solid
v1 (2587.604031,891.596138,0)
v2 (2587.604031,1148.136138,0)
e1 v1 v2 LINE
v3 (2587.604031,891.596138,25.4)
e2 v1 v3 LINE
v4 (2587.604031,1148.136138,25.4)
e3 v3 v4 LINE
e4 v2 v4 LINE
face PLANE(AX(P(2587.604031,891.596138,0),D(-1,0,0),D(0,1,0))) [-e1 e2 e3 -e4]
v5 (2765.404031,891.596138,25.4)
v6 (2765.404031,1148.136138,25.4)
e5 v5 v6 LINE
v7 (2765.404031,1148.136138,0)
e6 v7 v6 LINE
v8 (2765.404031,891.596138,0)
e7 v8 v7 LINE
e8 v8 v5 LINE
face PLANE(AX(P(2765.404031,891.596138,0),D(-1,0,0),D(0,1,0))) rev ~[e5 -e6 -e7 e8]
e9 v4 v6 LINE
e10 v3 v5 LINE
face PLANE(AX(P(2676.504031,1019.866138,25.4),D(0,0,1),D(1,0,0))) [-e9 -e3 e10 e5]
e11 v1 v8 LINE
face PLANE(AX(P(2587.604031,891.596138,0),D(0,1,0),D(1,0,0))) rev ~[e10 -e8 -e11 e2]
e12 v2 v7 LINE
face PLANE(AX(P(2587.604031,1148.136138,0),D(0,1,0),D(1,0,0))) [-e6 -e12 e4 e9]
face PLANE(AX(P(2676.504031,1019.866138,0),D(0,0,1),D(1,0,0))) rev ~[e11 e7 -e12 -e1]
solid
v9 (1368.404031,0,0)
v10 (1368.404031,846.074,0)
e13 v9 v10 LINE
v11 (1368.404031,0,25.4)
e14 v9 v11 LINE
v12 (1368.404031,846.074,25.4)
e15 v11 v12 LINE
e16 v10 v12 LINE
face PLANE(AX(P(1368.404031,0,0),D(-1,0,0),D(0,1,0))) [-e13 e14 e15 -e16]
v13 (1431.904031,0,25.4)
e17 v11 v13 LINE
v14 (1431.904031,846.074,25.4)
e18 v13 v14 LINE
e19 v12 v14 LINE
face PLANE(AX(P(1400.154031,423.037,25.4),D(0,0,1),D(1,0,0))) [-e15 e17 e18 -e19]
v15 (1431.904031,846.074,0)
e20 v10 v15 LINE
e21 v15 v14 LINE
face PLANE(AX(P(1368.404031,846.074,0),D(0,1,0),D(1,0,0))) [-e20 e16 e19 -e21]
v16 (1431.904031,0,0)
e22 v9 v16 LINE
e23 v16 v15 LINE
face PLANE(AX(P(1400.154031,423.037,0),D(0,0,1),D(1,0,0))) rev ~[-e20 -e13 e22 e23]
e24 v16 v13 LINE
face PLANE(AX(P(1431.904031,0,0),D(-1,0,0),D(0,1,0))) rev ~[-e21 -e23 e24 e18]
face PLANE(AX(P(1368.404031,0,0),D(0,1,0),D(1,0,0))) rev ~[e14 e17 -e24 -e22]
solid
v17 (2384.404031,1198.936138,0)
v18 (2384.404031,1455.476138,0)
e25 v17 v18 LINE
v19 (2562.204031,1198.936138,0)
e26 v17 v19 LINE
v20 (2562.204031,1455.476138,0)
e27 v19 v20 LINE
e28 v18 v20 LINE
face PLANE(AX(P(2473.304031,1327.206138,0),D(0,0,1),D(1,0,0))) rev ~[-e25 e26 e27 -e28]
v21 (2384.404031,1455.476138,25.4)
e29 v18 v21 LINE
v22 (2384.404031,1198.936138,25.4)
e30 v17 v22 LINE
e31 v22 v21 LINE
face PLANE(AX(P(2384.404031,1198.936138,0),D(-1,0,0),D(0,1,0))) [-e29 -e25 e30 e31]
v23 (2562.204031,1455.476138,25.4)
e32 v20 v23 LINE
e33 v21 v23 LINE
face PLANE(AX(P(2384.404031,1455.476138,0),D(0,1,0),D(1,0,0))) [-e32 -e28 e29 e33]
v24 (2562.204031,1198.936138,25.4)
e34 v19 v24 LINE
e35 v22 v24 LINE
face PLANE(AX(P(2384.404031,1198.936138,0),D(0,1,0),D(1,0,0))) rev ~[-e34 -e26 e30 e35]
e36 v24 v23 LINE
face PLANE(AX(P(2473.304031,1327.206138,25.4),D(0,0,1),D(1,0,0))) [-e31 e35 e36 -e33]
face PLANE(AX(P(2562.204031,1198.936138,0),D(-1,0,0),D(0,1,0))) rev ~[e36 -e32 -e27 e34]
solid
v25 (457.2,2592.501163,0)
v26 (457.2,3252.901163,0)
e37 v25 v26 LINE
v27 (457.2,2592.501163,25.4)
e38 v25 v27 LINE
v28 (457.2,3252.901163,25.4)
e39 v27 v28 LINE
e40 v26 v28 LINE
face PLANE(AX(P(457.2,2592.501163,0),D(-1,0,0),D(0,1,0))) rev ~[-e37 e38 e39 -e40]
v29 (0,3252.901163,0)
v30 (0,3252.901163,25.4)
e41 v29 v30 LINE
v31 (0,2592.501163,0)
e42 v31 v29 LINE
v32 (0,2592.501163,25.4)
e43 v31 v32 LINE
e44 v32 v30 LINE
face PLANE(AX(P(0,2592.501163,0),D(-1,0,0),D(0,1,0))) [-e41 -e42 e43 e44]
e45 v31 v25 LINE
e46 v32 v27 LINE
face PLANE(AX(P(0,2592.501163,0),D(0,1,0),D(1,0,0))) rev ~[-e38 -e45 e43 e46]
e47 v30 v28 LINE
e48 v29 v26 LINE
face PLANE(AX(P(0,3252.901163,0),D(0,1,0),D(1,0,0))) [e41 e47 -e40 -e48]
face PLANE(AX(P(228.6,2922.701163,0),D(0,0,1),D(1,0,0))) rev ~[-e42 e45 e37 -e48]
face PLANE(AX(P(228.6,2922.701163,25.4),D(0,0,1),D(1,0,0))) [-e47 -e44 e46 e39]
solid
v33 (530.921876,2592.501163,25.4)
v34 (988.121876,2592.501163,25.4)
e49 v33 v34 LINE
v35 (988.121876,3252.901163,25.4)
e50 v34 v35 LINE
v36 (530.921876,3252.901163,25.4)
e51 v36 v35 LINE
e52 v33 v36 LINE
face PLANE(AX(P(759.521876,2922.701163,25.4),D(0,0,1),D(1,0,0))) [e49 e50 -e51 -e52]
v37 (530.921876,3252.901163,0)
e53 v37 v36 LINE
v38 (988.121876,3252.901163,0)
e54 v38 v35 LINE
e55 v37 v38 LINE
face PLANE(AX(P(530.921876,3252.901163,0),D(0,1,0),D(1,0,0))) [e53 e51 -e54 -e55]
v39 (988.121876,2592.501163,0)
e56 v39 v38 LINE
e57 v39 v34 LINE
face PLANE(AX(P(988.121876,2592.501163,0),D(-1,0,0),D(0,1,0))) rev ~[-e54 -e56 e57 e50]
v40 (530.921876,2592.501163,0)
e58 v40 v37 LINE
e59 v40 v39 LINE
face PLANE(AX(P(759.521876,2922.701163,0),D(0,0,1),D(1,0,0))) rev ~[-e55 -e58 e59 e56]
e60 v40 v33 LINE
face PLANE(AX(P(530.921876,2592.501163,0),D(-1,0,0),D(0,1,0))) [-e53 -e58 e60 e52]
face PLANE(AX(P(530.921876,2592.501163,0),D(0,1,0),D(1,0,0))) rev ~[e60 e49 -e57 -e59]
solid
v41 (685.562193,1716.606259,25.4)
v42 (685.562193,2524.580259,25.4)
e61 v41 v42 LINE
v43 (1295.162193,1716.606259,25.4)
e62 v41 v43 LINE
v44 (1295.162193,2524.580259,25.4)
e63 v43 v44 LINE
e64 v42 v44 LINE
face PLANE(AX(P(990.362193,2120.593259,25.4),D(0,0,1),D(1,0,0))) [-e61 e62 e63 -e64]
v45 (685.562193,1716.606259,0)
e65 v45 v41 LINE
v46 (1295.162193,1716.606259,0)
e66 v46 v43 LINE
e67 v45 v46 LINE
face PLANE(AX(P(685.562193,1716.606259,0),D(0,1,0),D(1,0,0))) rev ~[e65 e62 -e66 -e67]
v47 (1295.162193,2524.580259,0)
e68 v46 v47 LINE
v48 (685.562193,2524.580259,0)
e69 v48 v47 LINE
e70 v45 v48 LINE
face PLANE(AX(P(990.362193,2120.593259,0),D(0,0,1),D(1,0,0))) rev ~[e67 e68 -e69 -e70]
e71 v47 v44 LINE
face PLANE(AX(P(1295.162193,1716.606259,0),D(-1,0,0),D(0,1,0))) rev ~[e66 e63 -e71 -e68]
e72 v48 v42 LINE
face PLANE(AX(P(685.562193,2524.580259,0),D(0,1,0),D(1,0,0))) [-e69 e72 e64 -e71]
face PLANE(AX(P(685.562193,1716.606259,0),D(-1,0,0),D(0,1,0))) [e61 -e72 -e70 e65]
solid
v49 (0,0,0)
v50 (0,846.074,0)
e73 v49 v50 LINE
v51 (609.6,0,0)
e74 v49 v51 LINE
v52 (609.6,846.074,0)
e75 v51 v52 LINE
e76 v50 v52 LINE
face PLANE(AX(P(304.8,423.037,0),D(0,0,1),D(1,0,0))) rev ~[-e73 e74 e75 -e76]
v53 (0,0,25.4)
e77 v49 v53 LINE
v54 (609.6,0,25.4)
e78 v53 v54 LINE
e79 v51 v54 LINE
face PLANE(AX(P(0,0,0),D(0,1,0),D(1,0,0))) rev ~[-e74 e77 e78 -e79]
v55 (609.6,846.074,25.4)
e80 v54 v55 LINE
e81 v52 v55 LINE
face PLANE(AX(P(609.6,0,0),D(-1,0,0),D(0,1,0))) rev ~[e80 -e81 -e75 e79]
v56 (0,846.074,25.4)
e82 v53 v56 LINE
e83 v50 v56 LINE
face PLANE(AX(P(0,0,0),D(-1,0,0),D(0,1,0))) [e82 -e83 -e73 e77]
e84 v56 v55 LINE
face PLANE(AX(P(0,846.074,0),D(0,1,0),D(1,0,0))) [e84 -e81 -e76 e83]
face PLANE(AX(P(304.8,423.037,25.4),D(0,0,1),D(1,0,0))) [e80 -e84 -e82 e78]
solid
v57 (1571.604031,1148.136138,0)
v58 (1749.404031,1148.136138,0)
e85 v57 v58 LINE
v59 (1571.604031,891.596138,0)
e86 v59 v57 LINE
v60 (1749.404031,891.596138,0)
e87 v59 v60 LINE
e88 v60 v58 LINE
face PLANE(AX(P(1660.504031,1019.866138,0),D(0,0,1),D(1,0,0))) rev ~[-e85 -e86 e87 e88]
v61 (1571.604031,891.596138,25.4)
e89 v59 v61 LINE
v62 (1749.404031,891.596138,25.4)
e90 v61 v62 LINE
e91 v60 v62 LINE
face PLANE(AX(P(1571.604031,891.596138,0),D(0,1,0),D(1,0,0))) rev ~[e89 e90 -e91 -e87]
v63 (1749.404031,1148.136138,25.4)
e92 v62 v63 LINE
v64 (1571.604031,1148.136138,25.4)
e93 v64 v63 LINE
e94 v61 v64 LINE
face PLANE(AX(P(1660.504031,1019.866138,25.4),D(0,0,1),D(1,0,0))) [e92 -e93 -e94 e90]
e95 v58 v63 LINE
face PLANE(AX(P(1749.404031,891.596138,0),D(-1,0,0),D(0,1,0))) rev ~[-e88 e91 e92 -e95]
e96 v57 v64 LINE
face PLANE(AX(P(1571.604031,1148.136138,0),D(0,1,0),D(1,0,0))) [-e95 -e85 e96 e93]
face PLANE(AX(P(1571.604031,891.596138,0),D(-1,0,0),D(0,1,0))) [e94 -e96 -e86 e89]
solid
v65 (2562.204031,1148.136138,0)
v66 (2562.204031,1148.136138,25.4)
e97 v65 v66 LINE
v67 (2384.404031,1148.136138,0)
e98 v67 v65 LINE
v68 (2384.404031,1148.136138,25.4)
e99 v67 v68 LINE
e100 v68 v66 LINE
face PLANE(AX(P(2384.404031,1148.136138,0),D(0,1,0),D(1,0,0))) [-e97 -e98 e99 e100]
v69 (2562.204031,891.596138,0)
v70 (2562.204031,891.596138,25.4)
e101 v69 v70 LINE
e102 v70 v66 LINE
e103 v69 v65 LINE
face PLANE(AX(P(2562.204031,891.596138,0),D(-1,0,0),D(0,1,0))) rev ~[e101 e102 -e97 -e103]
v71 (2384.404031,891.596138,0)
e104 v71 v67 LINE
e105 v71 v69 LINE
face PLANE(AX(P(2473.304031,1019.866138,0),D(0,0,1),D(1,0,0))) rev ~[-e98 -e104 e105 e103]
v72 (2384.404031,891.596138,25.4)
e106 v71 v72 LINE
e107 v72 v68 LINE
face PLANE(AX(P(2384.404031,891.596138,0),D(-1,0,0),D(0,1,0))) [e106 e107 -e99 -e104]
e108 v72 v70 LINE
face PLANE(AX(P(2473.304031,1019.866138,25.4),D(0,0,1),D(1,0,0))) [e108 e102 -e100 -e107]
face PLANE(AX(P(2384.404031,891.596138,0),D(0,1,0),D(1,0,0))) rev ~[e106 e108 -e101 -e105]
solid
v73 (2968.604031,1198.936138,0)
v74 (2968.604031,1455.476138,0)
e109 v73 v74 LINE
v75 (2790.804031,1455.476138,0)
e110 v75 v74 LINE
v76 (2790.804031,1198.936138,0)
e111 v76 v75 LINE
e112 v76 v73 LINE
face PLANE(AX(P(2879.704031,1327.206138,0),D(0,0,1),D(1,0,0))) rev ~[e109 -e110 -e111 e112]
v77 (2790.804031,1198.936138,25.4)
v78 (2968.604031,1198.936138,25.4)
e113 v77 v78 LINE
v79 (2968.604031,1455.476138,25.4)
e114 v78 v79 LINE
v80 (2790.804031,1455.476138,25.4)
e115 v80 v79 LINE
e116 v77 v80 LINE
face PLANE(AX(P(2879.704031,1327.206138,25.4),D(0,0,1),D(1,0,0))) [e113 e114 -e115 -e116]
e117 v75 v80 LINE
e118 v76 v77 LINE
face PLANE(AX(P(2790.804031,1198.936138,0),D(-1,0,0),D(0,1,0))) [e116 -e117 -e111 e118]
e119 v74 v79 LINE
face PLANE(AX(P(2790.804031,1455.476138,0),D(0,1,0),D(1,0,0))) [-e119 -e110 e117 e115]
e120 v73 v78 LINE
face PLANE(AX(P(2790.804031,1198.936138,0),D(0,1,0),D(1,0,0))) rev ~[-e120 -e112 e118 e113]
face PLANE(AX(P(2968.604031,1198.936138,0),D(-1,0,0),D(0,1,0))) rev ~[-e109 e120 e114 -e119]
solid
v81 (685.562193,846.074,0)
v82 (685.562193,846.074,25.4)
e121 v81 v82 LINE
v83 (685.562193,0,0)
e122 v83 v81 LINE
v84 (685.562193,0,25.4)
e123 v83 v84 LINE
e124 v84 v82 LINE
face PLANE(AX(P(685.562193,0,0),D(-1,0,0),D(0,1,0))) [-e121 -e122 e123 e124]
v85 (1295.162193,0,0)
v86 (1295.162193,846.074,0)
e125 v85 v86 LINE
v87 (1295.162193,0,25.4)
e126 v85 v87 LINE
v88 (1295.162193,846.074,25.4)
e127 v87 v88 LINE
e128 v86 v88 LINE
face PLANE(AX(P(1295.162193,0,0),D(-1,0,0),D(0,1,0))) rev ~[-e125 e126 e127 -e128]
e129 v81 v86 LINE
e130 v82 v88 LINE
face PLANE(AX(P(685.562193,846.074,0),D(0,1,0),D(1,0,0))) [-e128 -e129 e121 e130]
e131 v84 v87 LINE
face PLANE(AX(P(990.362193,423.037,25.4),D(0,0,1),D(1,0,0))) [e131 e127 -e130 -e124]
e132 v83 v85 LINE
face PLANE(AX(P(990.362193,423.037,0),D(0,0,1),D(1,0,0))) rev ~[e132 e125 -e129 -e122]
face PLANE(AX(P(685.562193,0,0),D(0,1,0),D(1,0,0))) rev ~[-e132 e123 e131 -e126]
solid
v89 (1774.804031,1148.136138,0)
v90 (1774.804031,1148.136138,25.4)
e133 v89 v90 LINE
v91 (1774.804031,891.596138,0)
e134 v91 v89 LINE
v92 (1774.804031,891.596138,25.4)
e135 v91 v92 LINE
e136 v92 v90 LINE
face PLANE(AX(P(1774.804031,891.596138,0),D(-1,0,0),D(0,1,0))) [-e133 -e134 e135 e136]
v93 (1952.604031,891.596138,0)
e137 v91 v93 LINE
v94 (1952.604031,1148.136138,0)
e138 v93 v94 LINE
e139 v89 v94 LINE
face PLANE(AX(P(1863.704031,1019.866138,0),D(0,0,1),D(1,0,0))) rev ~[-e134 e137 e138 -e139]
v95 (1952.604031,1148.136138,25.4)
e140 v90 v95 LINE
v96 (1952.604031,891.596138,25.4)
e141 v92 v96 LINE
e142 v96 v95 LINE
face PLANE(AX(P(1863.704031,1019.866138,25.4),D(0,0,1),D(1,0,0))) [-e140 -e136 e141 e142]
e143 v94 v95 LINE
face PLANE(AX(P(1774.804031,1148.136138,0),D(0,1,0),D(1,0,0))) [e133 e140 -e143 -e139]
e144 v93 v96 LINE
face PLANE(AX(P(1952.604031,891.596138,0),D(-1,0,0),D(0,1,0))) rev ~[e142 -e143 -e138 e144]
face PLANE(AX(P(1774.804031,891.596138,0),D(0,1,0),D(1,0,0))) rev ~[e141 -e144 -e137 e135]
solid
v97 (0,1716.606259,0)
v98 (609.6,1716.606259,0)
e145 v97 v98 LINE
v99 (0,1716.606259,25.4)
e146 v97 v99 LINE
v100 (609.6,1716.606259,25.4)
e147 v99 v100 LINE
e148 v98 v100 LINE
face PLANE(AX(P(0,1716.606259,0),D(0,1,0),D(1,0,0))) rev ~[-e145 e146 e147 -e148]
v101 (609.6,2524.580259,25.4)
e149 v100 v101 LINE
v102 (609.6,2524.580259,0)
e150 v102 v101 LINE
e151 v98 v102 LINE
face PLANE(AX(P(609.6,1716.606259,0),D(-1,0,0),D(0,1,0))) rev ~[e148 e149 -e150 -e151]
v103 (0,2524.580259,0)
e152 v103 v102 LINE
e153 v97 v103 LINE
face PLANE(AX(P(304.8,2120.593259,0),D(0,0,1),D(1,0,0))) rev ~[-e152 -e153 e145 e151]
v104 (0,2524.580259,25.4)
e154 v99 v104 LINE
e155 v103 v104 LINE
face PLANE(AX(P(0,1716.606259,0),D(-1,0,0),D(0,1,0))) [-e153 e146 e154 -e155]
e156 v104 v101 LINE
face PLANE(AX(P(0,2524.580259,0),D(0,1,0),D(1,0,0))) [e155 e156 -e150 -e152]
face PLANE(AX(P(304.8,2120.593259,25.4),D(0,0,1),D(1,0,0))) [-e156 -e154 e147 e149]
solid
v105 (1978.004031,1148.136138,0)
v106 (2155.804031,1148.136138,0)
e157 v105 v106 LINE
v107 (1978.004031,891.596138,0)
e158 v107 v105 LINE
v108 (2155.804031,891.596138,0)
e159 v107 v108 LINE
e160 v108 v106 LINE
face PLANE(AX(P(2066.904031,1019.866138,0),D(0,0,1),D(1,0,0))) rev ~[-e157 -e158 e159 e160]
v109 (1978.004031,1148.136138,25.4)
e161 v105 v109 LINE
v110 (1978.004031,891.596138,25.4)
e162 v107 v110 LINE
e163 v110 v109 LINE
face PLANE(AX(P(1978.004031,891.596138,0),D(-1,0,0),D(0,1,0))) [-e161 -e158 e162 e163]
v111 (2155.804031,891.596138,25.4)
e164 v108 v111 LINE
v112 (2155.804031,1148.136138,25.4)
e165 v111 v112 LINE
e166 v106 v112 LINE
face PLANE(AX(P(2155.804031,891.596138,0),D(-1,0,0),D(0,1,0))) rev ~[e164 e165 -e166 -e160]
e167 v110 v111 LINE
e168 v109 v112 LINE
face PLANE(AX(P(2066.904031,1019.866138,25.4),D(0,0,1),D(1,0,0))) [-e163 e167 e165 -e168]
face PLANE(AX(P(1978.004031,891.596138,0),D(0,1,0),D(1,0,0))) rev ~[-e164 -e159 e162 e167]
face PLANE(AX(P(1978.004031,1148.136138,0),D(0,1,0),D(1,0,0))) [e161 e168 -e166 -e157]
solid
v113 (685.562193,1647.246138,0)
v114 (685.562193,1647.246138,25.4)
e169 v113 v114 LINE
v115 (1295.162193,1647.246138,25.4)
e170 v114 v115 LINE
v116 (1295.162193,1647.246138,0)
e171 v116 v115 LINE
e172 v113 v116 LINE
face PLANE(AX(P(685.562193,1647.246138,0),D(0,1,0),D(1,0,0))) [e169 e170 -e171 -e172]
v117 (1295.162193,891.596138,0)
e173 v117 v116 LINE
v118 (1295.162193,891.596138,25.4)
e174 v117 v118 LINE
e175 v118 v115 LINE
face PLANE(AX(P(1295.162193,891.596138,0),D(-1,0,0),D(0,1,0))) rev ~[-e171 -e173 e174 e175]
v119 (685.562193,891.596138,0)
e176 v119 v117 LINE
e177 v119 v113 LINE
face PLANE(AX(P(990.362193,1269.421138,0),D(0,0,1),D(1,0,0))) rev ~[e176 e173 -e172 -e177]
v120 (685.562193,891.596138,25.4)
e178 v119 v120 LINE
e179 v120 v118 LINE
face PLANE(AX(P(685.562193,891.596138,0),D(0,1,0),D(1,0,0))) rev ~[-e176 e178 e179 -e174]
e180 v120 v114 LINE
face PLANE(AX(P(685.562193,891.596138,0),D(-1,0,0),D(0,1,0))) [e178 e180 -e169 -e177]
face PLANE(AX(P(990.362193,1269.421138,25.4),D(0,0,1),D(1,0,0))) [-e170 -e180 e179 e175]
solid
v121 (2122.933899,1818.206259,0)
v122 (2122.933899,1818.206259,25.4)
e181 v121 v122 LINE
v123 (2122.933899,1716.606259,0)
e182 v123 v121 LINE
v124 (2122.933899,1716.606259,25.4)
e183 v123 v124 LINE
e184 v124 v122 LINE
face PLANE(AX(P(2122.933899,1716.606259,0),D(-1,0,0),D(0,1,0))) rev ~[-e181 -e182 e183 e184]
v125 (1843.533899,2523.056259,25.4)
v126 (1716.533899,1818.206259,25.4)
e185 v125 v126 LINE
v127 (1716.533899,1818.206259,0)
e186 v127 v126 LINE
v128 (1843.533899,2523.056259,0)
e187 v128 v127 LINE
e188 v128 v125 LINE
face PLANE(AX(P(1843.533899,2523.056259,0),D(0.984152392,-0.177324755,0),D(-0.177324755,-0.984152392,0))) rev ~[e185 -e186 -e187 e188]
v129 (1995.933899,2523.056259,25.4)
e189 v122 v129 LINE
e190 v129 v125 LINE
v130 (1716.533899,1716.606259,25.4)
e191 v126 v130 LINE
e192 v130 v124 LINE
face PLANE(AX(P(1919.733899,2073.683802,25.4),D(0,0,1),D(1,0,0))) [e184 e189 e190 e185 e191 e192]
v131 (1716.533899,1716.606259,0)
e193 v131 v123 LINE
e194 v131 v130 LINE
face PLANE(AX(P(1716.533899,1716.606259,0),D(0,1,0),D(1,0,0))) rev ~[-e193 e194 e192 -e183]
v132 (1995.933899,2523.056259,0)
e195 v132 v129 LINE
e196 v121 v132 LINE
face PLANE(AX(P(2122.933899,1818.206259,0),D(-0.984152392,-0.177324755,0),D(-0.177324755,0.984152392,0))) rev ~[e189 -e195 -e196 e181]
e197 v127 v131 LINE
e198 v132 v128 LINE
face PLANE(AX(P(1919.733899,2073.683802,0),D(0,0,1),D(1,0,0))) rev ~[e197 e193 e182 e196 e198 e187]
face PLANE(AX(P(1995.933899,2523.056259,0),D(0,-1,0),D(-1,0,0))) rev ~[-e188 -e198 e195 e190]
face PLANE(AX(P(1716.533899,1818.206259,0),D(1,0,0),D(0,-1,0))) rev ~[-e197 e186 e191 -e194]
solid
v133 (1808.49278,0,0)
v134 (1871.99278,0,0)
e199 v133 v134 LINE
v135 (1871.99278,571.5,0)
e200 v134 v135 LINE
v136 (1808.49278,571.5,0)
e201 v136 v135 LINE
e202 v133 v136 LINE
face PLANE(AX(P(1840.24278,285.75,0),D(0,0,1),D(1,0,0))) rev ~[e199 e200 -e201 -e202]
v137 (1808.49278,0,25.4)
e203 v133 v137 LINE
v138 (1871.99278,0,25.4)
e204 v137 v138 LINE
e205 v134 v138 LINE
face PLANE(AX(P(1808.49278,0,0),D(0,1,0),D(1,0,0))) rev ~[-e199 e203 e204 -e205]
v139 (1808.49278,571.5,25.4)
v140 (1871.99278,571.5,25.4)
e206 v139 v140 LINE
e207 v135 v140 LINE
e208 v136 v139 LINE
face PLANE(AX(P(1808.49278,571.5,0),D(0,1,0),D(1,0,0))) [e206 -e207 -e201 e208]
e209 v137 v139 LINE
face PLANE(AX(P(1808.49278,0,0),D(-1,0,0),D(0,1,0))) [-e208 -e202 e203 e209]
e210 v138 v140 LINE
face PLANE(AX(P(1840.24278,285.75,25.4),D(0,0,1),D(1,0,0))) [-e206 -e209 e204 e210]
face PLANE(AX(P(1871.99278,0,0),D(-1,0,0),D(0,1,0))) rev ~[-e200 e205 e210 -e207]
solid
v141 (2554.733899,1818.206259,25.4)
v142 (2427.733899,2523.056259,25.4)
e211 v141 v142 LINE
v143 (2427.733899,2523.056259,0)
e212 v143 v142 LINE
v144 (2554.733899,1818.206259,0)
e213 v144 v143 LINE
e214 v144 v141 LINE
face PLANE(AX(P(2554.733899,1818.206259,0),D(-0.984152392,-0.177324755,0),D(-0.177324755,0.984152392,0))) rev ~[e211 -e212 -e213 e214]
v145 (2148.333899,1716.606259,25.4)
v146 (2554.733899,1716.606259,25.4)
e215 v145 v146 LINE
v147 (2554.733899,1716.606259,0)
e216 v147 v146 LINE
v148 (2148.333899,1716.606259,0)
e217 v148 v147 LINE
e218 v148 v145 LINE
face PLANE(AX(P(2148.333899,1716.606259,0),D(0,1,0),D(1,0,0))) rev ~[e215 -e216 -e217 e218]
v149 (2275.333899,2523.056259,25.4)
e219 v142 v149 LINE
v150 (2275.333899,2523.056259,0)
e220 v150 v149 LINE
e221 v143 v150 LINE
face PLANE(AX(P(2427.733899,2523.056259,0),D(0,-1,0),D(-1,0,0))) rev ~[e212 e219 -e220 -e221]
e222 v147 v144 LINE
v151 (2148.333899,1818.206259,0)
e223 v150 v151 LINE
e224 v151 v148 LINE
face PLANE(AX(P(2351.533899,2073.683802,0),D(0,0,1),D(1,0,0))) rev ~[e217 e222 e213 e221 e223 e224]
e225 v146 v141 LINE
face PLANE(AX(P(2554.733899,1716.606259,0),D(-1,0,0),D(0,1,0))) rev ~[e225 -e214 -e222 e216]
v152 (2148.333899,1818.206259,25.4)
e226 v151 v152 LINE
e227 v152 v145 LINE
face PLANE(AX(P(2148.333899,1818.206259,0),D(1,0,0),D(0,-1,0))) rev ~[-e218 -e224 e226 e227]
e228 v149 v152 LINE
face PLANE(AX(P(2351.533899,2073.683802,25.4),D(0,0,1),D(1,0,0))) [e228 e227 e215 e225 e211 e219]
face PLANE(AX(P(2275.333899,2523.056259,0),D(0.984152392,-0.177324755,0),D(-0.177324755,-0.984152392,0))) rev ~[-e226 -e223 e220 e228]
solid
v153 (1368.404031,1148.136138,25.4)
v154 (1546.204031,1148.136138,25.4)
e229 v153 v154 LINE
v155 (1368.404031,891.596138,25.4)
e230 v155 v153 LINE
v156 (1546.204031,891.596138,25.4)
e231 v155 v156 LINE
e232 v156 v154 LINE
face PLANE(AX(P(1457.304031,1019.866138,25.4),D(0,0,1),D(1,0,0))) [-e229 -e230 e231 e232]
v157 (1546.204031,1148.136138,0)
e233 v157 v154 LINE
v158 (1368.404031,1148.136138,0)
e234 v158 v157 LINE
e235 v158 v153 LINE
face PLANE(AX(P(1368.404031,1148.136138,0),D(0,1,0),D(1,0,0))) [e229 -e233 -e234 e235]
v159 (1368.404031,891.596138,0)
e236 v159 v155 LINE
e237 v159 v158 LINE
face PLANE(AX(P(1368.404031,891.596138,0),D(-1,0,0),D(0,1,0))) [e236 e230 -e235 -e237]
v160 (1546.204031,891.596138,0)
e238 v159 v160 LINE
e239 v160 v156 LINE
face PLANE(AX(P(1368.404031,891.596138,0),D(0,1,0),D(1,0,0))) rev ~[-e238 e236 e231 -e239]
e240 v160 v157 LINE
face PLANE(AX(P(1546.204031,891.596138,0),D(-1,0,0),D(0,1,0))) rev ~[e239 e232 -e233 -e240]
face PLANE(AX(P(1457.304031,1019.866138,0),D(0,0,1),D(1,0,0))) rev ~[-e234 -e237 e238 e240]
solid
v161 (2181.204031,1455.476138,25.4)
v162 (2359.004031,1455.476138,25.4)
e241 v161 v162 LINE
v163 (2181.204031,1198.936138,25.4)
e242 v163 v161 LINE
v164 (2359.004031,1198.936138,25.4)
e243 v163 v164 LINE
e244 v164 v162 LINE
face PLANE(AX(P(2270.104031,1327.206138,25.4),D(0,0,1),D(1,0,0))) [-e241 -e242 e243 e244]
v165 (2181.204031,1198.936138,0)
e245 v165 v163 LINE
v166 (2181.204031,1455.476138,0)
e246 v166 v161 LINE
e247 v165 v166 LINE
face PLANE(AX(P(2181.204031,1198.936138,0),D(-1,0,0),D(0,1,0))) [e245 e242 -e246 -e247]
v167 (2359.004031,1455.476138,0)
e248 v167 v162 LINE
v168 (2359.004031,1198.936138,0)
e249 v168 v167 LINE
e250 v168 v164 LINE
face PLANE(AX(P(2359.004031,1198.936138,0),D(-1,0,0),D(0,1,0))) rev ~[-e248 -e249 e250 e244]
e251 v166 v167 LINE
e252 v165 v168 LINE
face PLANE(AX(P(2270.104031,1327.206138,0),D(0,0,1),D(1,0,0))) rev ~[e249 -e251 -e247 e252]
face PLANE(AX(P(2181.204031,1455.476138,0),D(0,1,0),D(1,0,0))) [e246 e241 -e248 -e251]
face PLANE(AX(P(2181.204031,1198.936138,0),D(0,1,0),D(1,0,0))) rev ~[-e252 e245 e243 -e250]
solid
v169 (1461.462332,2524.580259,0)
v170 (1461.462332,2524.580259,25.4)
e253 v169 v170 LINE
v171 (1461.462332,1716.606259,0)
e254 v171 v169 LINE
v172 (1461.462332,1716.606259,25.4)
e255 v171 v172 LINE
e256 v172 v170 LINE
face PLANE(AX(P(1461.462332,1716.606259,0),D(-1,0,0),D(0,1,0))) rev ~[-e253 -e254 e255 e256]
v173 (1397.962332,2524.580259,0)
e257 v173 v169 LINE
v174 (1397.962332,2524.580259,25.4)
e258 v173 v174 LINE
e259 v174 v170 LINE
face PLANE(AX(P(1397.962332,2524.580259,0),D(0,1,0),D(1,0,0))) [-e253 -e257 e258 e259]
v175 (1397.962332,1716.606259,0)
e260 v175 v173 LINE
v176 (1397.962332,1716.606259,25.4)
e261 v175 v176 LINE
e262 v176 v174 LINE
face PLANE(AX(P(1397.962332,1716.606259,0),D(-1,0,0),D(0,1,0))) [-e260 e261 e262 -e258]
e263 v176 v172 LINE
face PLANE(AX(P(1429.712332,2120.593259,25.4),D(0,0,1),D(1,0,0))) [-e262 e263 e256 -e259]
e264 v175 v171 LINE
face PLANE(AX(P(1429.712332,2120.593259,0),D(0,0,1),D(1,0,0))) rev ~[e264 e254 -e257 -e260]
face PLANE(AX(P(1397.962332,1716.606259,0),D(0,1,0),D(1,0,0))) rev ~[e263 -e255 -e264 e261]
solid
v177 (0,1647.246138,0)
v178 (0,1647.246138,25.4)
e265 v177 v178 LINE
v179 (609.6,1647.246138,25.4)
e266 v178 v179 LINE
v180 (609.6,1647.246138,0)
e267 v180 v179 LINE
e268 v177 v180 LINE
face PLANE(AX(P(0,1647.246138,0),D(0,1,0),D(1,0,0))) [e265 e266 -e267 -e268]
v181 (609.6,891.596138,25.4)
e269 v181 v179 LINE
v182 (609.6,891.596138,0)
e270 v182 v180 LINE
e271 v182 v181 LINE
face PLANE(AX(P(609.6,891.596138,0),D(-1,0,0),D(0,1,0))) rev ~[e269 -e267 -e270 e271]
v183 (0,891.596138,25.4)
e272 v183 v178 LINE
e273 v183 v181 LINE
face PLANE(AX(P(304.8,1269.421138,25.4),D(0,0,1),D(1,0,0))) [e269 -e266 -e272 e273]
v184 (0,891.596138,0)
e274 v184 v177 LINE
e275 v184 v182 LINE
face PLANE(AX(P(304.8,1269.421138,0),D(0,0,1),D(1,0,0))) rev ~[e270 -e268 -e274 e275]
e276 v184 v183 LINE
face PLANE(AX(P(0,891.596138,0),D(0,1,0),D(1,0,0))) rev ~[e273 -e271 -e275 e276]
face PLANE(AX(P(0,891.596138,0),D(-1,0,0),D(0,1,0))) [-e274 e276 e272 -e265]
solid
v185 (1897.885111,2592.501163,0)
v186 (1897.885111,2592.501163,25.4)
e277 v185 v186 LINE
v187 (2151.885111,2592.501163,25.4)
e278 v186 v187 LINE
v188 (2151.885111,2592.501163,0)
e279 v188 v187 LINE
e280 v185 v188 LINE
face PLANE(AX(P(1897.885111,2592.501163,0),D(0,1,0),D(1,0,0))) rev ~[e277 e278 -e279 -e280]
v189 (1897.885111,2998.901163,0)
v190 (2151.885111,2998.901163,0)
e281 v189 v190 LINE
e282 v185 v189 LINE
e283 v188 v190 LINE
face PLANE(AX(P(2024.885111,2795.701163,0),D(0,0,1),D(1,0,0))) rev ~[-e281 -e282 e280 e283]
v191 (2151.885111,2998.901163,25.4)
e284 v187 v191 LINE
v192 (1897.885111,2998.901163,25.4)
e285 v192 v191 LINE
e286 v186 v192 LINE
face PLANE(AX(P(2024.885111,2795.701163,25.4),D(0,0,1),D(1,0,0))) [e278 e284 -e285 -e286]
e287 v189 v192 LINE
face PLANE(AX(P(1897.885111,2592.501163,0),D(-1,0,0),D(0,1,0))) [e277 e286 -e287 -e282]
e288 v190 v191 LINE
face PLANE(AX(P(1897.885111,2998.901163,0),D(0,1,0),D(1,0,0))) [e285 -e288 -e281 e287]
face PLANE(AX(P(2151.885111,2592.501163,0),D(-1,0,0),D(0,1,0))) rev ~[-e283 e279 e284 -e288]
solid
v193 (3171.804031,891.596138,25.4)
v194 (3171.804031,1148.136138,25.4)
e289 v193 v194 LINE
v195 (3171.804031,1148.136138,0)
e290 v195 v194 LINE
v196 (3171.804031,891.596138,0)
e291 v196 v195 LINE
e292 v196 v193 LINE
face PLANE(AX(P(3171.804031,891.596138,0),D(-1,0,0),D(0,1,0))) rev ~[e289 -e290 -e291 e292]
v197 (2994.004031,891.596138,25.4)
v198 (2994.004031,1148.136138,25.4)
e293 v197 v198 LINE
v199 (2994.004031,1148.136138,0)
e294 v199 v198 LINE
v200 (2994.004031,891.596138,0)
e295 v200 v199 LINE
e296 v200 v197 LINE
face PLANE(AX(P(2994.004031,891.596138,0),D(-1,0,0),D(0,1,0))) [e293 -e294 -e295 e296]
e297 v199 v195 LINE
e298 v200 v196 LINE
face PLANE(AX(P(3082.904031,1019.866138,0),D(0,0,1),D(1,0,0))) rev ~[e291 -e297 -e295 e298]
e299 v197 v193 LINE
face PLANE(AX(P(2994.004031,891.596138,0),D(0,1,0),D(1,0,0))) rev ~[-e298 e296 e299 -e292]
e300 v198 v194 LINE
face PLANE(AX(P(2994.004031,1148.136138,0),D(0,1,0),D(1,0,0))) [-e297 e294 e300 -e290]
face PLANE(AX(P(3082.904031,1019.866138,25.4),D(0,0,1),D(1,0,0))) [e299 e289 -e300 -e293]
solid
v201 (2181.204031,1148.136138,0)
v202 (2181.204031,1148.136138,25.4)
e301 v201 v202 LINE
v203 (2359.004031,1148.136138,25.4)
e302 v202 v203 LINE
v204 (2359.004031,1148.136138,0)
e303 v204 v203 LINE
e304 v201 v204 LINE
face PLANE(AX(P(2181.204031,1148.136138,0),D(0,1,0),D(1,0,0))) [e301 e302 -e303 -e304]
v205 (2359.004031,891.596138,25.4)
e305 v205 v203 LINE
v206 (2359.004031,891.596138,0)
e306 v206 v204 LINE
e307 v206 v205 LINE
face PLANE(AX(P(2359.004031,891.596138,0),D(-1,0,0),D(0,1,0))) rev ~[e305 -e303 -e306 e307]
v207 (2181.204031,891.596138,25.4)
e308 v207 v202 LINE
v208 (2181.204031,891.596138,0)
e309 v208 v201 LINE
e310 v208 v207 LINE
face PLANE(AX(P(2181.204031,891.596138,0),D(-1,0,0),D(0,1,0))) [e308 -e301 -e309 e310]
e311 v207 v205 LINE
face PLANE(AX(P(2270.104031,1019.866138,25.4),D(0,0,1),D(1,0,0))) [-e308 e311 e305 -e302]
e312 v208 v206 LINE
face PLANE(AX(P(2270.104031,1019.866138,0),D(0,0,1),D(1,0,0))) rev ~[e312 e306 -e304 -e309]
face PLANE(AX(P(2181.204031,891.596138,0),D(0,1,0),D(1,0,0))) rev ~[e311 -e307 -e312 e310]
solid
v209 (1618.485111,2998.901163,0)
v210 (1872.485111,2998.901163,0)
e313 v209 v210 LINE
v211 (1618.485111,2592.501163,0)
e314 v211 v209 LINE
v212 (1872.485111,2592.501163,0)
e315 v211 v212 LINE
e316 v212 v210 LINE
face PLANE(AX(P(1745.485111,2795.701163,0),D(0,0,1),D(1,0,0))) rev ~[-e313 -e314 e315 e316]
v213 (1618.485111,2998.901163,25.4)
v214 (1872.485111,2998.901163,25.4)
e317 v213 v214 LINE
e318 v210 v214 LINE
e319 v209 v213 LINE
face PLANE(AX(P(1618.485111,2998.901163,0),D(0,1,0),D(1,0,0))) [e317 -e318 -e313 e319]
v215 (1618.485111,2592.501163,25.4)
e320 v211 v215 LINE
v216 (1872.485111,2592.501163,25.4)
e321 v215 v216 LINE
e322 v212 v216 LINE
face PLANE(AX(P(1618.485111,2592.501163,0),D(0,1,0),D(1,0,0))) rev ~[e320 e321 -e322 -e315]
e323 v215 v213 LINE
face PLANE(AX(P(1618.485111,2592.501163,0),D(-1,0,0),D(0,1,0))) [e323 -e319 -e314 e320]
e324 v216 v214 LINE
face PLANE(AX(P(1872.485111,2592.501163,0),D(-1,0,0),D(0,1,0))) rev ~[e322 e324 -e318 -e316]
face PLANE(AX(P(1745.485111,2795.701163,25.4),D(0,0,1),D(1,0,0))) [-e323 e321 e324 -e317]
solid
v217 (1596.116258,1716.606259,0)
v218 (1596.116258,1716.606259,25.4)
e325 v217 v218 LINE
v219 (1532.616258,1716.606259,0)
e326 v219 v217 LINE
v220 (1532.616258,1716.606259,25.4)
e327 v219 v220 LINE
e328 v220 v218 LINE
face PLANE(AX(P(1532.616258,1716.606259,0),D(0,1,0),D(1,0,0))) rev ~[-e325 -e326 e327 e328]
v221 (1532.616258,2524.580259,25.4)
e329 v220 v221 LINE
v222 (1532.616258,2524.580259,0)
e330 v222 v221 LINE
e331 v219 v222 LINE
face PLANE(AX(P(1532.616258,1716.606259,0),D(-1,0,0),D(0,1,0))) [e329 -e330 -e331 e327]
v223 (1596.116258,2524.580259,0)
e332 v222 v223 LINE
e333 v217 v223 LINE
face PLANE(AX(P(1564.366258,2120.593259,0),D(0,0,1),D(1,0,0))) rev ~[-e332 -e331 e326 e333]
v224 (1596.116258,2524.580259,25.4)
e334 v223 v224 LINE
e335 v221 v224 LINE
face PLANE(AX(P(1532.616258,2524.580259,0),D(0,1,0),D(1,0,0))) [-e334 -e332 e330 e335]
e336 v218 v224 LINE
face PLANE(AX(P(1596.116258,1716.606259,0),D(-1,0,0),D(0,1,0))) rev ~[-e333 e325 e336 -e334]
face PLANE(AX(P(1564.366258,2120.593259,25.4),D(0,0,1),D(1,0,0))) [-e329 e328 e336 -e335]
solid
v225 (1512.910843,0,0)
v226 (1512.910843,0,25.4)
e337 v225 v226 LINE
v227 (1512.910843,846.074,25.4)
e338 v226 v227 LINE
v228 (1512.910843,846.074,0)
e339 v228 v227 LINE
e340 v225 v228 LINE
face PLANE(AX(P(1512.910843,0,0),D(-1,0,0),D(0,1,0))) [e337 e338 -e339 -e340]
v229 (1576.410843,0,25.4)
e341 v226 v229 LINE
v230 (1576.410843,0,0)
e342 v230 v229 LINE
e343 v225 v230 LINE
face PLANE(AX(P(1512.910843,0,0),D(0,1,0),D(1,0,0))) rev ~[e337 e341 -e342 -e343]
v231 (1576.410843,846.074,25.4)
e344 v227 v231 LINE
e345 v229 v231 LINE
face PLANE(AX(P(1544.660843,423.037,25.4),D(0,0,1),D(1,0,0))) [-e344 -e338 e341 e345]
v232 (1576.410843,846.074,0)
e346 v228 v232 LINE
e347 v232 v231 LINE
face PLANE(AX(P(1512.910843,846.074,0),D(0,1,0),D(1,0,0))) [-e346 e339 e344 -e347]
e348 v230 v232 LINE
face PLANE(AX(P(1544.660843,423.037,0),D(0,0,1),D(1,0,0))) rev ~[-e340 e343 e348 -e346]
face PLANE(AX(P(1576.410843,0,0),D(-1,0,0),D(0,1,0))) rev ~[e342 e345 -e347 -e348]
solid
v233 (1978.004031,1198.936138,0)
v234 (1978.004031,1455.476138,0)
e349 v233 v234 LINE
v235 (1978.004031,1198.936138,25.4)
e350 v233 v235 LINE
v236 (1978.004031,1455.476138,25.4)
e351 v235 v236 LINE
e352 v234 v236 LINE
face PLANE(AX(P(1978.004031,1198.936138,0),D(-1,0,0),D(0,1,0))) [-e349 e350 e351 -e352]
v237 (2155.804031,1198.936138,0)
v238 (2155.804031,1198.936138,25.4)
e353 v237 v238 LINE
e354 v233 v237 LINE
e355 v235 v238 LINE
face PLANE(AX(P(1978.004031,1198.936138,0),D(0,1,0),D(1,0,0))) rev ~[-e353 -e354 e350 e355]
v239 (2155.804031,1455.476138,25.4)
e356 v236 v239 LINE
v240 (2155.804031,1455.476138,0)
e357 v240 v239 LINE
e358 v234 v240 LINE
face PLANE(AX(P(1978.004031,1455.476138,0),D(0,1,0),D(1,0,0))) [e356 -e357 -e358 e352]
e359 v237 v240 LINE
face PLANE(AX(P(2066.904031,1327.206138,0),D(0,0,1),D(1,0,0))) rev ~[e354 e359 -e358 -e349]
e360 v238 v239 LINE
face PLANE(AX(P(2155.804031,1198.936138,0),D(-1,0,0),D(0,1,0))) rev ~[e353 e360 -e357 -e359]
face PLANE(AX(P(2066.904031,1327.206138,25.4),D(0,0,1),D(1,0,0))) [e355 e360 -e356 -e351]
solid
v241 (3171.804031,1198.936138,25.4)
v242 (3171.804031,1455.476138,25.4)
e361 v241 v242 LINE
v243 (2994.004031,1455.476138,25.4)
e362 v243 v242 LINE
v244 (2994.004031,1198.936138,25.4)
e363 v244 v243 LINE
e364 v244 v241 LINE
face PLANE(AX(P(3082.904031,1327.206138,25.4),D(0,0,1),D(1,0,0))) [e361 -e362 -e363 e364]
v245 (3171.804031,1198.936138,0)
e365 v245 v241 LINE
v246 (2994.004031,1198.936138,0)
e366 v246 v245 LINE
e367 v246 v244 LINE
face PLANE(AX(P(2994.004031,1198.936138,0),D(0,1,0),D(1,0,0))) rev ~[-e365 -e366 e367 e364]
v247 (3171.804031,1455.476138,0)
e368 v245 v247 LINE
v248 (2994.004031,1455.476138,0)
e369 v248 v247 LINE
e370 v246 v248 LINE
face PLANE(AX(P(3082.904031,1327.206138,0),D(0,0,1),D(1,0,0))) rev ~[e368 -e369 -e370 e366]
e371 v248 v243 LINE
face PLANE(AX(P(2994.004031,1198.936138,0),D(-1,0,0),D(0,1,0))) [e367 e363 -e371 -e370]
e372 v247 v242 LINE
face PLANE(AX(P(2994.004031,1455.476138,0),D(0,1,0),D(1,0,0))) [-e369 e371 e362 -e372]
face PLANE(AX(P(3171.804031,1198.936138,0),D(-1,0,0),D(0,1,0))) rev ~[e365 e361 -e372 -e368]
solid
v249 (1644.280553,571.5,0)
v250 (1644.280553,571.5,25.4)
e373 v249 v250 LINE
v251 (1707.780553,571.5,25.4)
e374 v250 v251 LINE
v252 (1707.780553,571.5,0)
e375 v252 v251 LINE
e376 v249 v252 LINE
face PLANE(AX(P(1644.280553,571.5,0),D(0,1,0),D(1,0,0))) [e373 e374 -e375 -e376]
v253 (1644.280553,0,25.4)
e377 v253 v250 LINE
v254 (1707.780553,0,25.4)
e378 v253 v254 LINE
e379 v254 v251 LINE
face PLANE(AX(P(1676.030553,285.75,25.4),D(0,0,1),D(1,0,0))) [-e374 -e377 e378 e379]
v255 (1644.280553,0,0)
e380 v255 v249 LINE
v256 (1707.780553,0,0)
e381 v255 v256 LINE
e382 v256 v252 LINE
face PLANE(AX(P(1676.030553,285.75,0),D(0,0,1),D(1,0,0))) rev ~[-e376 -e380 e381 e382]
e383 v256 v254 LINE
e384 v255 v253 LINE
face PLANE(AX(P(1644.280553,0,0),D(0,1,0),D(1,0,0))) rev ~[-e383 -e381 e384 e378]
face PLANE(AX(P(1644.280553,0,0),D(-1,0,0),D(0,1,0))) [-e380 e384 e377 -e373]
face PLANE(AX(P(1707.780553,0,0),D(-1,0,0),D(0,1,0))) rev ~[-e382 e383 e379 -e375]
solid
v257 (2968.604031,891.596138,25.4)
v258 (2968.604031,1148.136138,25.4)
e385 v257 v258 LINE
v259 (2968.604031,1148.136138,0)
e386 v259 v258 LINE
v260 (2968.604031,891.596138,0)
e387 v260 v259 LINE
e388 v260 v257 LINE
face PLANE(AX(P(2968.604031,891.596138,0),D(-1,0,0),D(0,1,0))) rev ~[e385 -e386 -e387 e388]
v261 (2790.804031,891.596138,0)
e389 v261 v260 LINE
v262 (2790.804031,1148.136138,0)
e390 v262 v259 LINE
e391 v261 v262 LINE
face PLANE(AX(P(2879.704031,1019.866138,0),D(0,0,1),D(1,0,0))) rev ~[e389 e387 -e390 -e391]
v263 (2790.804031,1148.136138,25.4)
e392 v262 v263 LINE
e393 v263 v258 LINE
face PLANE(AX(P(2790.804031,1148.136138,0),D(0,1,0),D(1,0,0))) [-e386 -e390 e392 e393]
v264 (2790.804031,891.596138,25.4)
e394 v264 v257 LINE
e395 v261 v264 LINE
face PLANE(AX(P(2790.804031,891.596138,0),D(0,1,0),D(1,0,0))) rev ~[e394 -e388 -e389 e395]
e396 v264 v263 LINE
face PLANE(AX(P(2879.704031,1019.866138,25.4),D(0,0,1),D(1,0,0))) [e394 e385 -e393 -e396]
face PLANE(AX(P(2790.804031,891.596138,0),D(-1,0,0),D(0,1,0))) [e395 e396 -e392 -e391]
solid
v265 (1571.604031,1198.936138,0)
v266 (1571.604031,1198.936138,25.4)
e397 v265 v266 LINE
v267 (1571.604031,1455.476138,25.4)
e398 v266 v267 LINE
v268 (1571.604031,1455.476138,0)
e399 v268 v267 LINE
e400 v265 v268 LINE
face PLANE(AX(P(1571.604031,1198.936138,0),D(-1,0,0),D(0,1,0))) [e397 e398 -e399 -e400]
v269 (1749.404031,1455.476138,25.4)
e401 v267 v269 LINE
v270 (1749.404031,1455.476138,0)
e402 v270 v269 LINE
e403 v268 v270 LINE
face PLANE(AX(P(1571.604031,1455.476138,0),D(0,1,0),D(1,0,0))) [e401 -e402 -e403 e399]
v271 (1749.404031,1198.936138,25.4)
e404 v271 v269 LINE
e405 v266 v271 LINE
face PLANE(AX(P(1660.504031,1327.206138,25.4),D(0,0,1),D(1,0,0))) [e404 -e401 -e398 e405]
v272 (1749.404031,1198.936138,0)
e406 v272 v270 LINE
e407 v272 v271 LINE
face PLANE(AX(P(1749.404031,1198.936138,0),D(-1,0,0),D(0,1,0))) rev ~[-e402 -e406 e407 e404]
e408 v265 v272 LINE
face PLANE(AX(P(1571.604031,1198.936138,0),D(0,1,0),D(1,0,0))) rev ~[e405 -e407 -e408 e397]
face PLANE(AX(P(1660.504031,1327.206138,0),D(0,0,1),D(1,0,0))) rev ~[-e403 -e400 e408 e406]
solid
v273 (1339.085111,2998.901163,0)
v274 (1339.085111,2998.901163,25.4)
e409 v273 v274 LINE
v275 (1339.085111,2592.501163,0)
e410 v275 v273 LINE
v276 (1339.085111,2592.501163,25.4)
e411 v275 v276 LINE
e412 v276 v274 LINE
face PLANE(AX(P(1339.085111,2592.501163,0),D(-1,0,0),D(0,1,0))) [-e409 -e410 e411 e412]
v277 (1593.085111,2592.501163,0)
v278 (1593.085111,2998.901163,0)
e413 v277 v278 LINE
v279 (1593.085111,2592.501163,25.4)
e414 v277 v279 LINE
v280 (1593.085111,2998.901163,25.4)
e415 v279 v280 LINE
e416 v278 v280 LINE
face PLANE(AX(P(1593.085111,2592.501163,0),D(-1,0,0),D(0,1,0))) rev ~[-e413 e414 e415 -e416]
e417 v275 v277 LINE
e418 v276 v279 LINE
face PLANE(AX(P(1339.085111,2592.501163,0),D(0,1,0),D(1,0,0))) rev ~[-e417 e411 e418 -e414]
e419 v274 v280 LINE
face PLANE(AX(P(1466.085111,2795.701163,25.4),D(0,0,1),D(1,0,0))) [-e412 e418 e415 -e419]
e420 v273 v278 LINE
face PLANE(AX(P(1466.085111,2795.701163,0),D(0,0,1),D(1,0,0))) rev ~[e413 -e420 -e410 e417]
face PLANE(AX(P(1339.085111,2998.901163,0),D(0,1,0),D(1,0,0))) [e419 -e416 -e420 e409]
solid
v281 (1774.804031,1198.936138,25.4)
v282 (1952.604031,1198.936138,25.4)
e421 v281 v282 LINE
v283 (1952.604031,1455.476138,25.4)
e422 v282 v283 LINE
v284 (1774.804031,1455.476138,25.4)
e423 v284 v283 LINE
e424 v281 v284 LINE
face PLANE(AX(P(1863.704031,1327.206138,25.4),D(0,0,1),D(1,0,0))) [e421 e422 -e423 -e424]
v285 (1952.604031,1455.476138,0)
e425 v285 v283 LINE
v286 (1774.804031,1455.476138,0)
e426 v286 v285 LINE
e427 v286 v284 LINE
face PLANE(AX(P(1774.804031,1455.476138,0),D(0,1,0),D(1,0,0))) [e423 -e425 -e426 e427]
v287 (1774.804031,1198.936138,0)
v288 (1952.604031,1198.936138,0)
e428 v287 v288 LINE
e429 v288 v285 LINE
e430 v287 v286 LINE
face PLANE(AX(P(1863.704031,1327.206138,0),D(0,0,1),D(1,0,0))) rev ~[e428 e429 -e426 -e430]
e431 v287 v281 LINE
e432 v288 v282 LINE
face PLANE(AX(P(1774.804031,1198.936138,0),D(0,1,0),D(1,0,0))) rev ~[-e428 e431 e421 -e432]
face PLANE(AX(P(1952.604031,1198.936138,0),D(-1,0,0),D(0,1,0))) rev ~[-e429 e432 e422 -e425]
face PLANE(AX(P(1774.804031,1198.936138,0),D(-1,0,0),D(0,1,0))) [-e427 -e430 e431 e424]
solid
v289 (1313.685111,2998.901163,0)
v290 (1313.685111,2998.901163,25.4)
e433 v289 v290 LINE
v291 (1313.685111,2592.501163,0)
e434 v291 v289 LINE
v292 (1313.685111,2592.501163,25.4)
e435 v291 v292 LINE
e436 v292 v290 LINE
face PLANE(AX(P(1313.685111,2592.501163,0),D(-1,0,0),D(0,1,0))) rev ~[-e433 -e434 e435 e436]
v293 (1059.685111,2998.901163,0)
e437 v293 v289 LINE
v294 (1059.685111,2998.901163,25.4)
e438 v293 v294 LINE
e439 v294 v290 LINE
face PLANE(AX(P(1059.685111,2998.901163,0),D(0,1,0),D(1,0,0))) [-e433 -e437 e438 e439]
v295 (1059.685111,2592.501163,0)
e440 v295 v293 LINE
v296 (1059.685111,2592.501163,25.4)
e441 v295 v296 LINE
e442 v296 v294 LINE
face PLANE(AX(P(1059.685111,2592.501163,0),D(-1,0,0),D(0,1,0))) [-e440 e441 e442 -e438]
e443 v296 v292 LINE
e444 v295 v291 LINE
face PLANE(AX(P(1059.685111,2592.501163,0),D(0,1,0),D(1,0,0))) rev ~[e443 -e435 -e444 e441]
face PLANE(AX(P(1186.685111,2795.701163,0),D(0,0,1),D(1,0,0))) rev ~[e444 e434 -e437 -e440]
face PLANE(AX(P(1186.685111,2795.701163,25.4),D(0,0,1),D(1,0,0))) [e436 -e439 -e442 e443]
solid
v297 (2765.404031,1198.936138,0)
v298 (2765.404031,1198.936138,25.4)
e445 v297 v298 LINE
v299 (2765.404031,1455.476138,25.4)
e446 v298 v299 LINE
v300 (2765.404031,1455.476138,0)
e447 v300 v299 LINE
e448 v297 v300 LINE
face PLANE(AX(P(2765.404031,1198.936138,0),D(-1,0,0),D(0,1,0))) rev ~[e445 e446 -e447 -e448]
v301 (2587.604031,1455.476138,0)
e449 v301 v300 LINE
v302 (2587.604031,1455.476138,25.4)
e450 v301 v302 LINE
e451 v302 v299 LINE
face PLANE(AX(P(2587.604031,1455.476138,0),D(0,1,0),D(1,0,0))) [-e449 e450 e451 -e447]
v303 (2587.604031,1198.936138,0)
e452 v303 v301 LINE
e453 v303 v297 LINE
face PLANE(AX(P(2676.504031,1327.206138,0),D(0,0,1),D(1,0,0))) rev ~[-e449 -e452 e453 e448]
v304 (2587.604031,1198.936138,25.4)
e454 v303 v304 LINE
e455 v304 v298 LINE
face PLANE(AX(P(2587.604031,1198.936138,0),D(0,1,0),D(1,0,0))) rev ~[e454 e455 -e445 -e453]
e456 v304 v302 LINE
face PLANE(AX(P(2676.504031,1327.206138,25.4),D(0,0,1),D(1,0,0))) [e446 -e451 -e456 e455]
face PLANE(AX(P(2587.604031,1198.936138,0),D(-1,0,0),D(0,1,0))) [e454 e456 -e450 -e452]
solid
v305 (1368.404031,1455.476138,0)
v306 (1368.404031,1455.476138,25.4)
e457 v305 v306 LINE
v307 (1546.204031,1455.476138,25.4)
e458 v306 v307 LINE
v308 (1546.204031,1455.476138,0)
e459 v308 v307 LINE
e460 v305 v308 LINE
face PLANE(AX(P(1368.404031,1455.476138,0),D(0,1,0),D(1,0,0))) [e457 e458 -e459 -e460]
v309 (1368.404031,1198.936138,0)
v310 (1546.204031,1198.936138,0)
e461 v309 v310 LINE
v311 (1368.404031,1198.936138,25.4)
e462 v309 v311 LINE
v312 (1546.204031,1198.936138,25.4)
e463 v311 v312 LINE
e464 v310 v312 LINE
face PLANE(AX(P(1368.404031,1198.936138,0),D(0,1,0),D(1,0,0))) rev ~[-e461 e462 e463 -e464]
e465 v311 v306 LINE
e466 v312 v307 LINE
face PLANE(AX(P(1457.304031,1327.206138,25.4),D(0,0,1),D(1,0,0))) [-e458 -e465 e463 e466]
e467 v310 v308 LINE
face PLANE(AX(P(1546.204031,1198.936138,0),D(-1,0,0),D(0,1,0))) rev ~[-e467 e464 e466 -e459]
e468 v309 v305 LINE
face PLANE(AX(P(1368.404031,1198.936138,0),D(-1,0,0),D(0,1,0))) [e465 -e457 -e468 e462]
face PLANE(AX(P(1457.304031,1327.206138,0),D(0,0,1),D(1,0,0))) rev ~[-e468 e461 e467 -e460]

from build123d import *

# Parameters (mm, degrees)
F0_W     = 609.6
F0_H     = 846.074
F0_H_2   = 755.65
F0_H_3   = 807.974
F0_W_2   = 63.5
F0_H_4   = 571.5
F0_W_3   = 177.8
F0_H_5   = 256.54
F0_W_4   = 457.2
F0_H_6   = 660.4
F0_W_5   = 254
F0_H_7   = 406.4
F1_DEPTH = 25.4


with BuildPart() as f1:
    # F0 (on Top) → F1 (new body)
    with BuildSketch(Plane.XY):
        with Locations((304.8, 423.037)):
            Rectangle(F0_W, F0_H)
        with Locations((990.362193, 423.037)):
            Rectangle(F0_W, F0_H)
        with Locations((304.8, 1269.421138)):
            Rectangle(F0_W, F0_H_2)
        with Locations((990.362193, 1269.421138)):
            Rectangle(F0_W, F0_H_2)
        with Locations((304.8, 2120.593259)):
            Rectangle(F0_W, F0_H_3)
        with Locations((990.362193, 2120.593259)):
            Rectangle(F0_W, F0_H_3)
        with Locations((1429.712332, 2120.593259)):
            Rectangle(F0_W_2, F0_H_3)
        with Locations((1564.366258, 2120.593259)):
            Rectangle(F0_W_2, F0_H_3)
        with Locations((1400.154031, 423.037)):
            Rectangle(F0_W_2, F0_H)
        with Locations((1544.660843, 423.037)):
            Rectangle(F0_W_2, F0_H)
        with Locations((1676.030553, 285.75)):
            Rectangle(F0_W_2, F0_H_4)
        with Locations((1840.24278, 285.75)):
            Rectangle(F0_W_2, F0_H_4)
        with Locations((1457.304031, 1019.866138)):
            Rectangle(F0_W_3, F0_H_5)
        with Locations((1457.304031, 1327.206138)):
            Rectangle(F0_W_3, F0_H_5)
        with Locations((1660.504031, 1019.866138)):
            Rectangle(F0_W_3, F0_H_5)
        with Locations((1660.504031, 1327.206138)):
            Rectangle(F0_W_3, F0_H_5)
        with Locations((1863.704031, 1019.866138)):
            Rectangle(F0_W_3, F0_H_5)
        with Locations((1863.704031, 1327.206138)):
            Rectangle(F0_W_3, F0_H_5)
        with Locations((2066.904031, 1019.866138)):
            Rectangle(F0_W_3, F0_H_5)
        with Locations((2066.904031, 1327.206138)):
            Rectangle(F0_W_3, F0_H_5)
        with Locations((2270.104031, 1019.866138)):
            Rectangle(F0_W_3, F0_H_5)
        with Locations((2270.104031, 1327.206138)):
            Rectangle(F0_W_3, F0_H_5)
        with Locations((2473.304031, 1019.866138)):
            Rectangle(F0_W_3, F0_H_5)
        with Locations((2473.304031, 1327.206138)):
            Rectangle(F0_W_3, F0_H_5)
        with Locations((2676.504031, 1019.866138)):
            Rectangle(F0_W_3, F0_H_5)
        with Locations((2676.504031, 1327.206138)):
            Rectangle(F0_W_3, F0_H_5)
        with Locations((2879.704031, 1019.866138)):
            Rectangle(F0_W_3, F0_H_5)
        with Locations((2879.704031, 1327.206138)):
            Rectangle(F0_W_3, F0_H_5)
        with Locations((3082.904031, 1019.866138)):
            Rectangle(F0_W_3, F0_H_5)
        with Locations((3082.904031, 1327.206138)):
            Rectangle(F0_W_3, F0_H_5)
        with Locations((228.6, 2922.701163)):
            Rectangle(F0_W_4, F0_H_6)
        with Locations((759.521876, 2922.701163)):
            Rectangle(F0_W_4, F0_H_6)
        with Locations((1186.685111, 2795.701163)):
            Rectangle(F0_W_5, F0_H_7)
        with Locations((1466.085111, 2795.701163)):
            Rectangle(F0_W_5, F0_H_7)
        with Locations((1745.485111, 2795.701163)):
            Rectangle(F0_W_5, F0_H_7)
        with Locations((2024.885111, 2795.701163)):
            Rectangle(F0_W_5, F0_H_7)
        Polygon((1716.533899, 1818.206259), (1716.533899, 1716.606259), (2122.933899, 1716.606259), (2122.933899, 1818.206259), (1995.933899, 2523.056259), (1843.533899, 2523.056259), align=None)
        Polygon((2148.333899, 1818.206259), (2148.333899, 1716.606259), (2554.733899, 1716.606259), (2554.733899, 1818.206259), (2427.733899, 2523.056259), (2275.333899, 2523.056259), align=None)
    extrude(amount=F1_DEPTH)


solid = f1.part
